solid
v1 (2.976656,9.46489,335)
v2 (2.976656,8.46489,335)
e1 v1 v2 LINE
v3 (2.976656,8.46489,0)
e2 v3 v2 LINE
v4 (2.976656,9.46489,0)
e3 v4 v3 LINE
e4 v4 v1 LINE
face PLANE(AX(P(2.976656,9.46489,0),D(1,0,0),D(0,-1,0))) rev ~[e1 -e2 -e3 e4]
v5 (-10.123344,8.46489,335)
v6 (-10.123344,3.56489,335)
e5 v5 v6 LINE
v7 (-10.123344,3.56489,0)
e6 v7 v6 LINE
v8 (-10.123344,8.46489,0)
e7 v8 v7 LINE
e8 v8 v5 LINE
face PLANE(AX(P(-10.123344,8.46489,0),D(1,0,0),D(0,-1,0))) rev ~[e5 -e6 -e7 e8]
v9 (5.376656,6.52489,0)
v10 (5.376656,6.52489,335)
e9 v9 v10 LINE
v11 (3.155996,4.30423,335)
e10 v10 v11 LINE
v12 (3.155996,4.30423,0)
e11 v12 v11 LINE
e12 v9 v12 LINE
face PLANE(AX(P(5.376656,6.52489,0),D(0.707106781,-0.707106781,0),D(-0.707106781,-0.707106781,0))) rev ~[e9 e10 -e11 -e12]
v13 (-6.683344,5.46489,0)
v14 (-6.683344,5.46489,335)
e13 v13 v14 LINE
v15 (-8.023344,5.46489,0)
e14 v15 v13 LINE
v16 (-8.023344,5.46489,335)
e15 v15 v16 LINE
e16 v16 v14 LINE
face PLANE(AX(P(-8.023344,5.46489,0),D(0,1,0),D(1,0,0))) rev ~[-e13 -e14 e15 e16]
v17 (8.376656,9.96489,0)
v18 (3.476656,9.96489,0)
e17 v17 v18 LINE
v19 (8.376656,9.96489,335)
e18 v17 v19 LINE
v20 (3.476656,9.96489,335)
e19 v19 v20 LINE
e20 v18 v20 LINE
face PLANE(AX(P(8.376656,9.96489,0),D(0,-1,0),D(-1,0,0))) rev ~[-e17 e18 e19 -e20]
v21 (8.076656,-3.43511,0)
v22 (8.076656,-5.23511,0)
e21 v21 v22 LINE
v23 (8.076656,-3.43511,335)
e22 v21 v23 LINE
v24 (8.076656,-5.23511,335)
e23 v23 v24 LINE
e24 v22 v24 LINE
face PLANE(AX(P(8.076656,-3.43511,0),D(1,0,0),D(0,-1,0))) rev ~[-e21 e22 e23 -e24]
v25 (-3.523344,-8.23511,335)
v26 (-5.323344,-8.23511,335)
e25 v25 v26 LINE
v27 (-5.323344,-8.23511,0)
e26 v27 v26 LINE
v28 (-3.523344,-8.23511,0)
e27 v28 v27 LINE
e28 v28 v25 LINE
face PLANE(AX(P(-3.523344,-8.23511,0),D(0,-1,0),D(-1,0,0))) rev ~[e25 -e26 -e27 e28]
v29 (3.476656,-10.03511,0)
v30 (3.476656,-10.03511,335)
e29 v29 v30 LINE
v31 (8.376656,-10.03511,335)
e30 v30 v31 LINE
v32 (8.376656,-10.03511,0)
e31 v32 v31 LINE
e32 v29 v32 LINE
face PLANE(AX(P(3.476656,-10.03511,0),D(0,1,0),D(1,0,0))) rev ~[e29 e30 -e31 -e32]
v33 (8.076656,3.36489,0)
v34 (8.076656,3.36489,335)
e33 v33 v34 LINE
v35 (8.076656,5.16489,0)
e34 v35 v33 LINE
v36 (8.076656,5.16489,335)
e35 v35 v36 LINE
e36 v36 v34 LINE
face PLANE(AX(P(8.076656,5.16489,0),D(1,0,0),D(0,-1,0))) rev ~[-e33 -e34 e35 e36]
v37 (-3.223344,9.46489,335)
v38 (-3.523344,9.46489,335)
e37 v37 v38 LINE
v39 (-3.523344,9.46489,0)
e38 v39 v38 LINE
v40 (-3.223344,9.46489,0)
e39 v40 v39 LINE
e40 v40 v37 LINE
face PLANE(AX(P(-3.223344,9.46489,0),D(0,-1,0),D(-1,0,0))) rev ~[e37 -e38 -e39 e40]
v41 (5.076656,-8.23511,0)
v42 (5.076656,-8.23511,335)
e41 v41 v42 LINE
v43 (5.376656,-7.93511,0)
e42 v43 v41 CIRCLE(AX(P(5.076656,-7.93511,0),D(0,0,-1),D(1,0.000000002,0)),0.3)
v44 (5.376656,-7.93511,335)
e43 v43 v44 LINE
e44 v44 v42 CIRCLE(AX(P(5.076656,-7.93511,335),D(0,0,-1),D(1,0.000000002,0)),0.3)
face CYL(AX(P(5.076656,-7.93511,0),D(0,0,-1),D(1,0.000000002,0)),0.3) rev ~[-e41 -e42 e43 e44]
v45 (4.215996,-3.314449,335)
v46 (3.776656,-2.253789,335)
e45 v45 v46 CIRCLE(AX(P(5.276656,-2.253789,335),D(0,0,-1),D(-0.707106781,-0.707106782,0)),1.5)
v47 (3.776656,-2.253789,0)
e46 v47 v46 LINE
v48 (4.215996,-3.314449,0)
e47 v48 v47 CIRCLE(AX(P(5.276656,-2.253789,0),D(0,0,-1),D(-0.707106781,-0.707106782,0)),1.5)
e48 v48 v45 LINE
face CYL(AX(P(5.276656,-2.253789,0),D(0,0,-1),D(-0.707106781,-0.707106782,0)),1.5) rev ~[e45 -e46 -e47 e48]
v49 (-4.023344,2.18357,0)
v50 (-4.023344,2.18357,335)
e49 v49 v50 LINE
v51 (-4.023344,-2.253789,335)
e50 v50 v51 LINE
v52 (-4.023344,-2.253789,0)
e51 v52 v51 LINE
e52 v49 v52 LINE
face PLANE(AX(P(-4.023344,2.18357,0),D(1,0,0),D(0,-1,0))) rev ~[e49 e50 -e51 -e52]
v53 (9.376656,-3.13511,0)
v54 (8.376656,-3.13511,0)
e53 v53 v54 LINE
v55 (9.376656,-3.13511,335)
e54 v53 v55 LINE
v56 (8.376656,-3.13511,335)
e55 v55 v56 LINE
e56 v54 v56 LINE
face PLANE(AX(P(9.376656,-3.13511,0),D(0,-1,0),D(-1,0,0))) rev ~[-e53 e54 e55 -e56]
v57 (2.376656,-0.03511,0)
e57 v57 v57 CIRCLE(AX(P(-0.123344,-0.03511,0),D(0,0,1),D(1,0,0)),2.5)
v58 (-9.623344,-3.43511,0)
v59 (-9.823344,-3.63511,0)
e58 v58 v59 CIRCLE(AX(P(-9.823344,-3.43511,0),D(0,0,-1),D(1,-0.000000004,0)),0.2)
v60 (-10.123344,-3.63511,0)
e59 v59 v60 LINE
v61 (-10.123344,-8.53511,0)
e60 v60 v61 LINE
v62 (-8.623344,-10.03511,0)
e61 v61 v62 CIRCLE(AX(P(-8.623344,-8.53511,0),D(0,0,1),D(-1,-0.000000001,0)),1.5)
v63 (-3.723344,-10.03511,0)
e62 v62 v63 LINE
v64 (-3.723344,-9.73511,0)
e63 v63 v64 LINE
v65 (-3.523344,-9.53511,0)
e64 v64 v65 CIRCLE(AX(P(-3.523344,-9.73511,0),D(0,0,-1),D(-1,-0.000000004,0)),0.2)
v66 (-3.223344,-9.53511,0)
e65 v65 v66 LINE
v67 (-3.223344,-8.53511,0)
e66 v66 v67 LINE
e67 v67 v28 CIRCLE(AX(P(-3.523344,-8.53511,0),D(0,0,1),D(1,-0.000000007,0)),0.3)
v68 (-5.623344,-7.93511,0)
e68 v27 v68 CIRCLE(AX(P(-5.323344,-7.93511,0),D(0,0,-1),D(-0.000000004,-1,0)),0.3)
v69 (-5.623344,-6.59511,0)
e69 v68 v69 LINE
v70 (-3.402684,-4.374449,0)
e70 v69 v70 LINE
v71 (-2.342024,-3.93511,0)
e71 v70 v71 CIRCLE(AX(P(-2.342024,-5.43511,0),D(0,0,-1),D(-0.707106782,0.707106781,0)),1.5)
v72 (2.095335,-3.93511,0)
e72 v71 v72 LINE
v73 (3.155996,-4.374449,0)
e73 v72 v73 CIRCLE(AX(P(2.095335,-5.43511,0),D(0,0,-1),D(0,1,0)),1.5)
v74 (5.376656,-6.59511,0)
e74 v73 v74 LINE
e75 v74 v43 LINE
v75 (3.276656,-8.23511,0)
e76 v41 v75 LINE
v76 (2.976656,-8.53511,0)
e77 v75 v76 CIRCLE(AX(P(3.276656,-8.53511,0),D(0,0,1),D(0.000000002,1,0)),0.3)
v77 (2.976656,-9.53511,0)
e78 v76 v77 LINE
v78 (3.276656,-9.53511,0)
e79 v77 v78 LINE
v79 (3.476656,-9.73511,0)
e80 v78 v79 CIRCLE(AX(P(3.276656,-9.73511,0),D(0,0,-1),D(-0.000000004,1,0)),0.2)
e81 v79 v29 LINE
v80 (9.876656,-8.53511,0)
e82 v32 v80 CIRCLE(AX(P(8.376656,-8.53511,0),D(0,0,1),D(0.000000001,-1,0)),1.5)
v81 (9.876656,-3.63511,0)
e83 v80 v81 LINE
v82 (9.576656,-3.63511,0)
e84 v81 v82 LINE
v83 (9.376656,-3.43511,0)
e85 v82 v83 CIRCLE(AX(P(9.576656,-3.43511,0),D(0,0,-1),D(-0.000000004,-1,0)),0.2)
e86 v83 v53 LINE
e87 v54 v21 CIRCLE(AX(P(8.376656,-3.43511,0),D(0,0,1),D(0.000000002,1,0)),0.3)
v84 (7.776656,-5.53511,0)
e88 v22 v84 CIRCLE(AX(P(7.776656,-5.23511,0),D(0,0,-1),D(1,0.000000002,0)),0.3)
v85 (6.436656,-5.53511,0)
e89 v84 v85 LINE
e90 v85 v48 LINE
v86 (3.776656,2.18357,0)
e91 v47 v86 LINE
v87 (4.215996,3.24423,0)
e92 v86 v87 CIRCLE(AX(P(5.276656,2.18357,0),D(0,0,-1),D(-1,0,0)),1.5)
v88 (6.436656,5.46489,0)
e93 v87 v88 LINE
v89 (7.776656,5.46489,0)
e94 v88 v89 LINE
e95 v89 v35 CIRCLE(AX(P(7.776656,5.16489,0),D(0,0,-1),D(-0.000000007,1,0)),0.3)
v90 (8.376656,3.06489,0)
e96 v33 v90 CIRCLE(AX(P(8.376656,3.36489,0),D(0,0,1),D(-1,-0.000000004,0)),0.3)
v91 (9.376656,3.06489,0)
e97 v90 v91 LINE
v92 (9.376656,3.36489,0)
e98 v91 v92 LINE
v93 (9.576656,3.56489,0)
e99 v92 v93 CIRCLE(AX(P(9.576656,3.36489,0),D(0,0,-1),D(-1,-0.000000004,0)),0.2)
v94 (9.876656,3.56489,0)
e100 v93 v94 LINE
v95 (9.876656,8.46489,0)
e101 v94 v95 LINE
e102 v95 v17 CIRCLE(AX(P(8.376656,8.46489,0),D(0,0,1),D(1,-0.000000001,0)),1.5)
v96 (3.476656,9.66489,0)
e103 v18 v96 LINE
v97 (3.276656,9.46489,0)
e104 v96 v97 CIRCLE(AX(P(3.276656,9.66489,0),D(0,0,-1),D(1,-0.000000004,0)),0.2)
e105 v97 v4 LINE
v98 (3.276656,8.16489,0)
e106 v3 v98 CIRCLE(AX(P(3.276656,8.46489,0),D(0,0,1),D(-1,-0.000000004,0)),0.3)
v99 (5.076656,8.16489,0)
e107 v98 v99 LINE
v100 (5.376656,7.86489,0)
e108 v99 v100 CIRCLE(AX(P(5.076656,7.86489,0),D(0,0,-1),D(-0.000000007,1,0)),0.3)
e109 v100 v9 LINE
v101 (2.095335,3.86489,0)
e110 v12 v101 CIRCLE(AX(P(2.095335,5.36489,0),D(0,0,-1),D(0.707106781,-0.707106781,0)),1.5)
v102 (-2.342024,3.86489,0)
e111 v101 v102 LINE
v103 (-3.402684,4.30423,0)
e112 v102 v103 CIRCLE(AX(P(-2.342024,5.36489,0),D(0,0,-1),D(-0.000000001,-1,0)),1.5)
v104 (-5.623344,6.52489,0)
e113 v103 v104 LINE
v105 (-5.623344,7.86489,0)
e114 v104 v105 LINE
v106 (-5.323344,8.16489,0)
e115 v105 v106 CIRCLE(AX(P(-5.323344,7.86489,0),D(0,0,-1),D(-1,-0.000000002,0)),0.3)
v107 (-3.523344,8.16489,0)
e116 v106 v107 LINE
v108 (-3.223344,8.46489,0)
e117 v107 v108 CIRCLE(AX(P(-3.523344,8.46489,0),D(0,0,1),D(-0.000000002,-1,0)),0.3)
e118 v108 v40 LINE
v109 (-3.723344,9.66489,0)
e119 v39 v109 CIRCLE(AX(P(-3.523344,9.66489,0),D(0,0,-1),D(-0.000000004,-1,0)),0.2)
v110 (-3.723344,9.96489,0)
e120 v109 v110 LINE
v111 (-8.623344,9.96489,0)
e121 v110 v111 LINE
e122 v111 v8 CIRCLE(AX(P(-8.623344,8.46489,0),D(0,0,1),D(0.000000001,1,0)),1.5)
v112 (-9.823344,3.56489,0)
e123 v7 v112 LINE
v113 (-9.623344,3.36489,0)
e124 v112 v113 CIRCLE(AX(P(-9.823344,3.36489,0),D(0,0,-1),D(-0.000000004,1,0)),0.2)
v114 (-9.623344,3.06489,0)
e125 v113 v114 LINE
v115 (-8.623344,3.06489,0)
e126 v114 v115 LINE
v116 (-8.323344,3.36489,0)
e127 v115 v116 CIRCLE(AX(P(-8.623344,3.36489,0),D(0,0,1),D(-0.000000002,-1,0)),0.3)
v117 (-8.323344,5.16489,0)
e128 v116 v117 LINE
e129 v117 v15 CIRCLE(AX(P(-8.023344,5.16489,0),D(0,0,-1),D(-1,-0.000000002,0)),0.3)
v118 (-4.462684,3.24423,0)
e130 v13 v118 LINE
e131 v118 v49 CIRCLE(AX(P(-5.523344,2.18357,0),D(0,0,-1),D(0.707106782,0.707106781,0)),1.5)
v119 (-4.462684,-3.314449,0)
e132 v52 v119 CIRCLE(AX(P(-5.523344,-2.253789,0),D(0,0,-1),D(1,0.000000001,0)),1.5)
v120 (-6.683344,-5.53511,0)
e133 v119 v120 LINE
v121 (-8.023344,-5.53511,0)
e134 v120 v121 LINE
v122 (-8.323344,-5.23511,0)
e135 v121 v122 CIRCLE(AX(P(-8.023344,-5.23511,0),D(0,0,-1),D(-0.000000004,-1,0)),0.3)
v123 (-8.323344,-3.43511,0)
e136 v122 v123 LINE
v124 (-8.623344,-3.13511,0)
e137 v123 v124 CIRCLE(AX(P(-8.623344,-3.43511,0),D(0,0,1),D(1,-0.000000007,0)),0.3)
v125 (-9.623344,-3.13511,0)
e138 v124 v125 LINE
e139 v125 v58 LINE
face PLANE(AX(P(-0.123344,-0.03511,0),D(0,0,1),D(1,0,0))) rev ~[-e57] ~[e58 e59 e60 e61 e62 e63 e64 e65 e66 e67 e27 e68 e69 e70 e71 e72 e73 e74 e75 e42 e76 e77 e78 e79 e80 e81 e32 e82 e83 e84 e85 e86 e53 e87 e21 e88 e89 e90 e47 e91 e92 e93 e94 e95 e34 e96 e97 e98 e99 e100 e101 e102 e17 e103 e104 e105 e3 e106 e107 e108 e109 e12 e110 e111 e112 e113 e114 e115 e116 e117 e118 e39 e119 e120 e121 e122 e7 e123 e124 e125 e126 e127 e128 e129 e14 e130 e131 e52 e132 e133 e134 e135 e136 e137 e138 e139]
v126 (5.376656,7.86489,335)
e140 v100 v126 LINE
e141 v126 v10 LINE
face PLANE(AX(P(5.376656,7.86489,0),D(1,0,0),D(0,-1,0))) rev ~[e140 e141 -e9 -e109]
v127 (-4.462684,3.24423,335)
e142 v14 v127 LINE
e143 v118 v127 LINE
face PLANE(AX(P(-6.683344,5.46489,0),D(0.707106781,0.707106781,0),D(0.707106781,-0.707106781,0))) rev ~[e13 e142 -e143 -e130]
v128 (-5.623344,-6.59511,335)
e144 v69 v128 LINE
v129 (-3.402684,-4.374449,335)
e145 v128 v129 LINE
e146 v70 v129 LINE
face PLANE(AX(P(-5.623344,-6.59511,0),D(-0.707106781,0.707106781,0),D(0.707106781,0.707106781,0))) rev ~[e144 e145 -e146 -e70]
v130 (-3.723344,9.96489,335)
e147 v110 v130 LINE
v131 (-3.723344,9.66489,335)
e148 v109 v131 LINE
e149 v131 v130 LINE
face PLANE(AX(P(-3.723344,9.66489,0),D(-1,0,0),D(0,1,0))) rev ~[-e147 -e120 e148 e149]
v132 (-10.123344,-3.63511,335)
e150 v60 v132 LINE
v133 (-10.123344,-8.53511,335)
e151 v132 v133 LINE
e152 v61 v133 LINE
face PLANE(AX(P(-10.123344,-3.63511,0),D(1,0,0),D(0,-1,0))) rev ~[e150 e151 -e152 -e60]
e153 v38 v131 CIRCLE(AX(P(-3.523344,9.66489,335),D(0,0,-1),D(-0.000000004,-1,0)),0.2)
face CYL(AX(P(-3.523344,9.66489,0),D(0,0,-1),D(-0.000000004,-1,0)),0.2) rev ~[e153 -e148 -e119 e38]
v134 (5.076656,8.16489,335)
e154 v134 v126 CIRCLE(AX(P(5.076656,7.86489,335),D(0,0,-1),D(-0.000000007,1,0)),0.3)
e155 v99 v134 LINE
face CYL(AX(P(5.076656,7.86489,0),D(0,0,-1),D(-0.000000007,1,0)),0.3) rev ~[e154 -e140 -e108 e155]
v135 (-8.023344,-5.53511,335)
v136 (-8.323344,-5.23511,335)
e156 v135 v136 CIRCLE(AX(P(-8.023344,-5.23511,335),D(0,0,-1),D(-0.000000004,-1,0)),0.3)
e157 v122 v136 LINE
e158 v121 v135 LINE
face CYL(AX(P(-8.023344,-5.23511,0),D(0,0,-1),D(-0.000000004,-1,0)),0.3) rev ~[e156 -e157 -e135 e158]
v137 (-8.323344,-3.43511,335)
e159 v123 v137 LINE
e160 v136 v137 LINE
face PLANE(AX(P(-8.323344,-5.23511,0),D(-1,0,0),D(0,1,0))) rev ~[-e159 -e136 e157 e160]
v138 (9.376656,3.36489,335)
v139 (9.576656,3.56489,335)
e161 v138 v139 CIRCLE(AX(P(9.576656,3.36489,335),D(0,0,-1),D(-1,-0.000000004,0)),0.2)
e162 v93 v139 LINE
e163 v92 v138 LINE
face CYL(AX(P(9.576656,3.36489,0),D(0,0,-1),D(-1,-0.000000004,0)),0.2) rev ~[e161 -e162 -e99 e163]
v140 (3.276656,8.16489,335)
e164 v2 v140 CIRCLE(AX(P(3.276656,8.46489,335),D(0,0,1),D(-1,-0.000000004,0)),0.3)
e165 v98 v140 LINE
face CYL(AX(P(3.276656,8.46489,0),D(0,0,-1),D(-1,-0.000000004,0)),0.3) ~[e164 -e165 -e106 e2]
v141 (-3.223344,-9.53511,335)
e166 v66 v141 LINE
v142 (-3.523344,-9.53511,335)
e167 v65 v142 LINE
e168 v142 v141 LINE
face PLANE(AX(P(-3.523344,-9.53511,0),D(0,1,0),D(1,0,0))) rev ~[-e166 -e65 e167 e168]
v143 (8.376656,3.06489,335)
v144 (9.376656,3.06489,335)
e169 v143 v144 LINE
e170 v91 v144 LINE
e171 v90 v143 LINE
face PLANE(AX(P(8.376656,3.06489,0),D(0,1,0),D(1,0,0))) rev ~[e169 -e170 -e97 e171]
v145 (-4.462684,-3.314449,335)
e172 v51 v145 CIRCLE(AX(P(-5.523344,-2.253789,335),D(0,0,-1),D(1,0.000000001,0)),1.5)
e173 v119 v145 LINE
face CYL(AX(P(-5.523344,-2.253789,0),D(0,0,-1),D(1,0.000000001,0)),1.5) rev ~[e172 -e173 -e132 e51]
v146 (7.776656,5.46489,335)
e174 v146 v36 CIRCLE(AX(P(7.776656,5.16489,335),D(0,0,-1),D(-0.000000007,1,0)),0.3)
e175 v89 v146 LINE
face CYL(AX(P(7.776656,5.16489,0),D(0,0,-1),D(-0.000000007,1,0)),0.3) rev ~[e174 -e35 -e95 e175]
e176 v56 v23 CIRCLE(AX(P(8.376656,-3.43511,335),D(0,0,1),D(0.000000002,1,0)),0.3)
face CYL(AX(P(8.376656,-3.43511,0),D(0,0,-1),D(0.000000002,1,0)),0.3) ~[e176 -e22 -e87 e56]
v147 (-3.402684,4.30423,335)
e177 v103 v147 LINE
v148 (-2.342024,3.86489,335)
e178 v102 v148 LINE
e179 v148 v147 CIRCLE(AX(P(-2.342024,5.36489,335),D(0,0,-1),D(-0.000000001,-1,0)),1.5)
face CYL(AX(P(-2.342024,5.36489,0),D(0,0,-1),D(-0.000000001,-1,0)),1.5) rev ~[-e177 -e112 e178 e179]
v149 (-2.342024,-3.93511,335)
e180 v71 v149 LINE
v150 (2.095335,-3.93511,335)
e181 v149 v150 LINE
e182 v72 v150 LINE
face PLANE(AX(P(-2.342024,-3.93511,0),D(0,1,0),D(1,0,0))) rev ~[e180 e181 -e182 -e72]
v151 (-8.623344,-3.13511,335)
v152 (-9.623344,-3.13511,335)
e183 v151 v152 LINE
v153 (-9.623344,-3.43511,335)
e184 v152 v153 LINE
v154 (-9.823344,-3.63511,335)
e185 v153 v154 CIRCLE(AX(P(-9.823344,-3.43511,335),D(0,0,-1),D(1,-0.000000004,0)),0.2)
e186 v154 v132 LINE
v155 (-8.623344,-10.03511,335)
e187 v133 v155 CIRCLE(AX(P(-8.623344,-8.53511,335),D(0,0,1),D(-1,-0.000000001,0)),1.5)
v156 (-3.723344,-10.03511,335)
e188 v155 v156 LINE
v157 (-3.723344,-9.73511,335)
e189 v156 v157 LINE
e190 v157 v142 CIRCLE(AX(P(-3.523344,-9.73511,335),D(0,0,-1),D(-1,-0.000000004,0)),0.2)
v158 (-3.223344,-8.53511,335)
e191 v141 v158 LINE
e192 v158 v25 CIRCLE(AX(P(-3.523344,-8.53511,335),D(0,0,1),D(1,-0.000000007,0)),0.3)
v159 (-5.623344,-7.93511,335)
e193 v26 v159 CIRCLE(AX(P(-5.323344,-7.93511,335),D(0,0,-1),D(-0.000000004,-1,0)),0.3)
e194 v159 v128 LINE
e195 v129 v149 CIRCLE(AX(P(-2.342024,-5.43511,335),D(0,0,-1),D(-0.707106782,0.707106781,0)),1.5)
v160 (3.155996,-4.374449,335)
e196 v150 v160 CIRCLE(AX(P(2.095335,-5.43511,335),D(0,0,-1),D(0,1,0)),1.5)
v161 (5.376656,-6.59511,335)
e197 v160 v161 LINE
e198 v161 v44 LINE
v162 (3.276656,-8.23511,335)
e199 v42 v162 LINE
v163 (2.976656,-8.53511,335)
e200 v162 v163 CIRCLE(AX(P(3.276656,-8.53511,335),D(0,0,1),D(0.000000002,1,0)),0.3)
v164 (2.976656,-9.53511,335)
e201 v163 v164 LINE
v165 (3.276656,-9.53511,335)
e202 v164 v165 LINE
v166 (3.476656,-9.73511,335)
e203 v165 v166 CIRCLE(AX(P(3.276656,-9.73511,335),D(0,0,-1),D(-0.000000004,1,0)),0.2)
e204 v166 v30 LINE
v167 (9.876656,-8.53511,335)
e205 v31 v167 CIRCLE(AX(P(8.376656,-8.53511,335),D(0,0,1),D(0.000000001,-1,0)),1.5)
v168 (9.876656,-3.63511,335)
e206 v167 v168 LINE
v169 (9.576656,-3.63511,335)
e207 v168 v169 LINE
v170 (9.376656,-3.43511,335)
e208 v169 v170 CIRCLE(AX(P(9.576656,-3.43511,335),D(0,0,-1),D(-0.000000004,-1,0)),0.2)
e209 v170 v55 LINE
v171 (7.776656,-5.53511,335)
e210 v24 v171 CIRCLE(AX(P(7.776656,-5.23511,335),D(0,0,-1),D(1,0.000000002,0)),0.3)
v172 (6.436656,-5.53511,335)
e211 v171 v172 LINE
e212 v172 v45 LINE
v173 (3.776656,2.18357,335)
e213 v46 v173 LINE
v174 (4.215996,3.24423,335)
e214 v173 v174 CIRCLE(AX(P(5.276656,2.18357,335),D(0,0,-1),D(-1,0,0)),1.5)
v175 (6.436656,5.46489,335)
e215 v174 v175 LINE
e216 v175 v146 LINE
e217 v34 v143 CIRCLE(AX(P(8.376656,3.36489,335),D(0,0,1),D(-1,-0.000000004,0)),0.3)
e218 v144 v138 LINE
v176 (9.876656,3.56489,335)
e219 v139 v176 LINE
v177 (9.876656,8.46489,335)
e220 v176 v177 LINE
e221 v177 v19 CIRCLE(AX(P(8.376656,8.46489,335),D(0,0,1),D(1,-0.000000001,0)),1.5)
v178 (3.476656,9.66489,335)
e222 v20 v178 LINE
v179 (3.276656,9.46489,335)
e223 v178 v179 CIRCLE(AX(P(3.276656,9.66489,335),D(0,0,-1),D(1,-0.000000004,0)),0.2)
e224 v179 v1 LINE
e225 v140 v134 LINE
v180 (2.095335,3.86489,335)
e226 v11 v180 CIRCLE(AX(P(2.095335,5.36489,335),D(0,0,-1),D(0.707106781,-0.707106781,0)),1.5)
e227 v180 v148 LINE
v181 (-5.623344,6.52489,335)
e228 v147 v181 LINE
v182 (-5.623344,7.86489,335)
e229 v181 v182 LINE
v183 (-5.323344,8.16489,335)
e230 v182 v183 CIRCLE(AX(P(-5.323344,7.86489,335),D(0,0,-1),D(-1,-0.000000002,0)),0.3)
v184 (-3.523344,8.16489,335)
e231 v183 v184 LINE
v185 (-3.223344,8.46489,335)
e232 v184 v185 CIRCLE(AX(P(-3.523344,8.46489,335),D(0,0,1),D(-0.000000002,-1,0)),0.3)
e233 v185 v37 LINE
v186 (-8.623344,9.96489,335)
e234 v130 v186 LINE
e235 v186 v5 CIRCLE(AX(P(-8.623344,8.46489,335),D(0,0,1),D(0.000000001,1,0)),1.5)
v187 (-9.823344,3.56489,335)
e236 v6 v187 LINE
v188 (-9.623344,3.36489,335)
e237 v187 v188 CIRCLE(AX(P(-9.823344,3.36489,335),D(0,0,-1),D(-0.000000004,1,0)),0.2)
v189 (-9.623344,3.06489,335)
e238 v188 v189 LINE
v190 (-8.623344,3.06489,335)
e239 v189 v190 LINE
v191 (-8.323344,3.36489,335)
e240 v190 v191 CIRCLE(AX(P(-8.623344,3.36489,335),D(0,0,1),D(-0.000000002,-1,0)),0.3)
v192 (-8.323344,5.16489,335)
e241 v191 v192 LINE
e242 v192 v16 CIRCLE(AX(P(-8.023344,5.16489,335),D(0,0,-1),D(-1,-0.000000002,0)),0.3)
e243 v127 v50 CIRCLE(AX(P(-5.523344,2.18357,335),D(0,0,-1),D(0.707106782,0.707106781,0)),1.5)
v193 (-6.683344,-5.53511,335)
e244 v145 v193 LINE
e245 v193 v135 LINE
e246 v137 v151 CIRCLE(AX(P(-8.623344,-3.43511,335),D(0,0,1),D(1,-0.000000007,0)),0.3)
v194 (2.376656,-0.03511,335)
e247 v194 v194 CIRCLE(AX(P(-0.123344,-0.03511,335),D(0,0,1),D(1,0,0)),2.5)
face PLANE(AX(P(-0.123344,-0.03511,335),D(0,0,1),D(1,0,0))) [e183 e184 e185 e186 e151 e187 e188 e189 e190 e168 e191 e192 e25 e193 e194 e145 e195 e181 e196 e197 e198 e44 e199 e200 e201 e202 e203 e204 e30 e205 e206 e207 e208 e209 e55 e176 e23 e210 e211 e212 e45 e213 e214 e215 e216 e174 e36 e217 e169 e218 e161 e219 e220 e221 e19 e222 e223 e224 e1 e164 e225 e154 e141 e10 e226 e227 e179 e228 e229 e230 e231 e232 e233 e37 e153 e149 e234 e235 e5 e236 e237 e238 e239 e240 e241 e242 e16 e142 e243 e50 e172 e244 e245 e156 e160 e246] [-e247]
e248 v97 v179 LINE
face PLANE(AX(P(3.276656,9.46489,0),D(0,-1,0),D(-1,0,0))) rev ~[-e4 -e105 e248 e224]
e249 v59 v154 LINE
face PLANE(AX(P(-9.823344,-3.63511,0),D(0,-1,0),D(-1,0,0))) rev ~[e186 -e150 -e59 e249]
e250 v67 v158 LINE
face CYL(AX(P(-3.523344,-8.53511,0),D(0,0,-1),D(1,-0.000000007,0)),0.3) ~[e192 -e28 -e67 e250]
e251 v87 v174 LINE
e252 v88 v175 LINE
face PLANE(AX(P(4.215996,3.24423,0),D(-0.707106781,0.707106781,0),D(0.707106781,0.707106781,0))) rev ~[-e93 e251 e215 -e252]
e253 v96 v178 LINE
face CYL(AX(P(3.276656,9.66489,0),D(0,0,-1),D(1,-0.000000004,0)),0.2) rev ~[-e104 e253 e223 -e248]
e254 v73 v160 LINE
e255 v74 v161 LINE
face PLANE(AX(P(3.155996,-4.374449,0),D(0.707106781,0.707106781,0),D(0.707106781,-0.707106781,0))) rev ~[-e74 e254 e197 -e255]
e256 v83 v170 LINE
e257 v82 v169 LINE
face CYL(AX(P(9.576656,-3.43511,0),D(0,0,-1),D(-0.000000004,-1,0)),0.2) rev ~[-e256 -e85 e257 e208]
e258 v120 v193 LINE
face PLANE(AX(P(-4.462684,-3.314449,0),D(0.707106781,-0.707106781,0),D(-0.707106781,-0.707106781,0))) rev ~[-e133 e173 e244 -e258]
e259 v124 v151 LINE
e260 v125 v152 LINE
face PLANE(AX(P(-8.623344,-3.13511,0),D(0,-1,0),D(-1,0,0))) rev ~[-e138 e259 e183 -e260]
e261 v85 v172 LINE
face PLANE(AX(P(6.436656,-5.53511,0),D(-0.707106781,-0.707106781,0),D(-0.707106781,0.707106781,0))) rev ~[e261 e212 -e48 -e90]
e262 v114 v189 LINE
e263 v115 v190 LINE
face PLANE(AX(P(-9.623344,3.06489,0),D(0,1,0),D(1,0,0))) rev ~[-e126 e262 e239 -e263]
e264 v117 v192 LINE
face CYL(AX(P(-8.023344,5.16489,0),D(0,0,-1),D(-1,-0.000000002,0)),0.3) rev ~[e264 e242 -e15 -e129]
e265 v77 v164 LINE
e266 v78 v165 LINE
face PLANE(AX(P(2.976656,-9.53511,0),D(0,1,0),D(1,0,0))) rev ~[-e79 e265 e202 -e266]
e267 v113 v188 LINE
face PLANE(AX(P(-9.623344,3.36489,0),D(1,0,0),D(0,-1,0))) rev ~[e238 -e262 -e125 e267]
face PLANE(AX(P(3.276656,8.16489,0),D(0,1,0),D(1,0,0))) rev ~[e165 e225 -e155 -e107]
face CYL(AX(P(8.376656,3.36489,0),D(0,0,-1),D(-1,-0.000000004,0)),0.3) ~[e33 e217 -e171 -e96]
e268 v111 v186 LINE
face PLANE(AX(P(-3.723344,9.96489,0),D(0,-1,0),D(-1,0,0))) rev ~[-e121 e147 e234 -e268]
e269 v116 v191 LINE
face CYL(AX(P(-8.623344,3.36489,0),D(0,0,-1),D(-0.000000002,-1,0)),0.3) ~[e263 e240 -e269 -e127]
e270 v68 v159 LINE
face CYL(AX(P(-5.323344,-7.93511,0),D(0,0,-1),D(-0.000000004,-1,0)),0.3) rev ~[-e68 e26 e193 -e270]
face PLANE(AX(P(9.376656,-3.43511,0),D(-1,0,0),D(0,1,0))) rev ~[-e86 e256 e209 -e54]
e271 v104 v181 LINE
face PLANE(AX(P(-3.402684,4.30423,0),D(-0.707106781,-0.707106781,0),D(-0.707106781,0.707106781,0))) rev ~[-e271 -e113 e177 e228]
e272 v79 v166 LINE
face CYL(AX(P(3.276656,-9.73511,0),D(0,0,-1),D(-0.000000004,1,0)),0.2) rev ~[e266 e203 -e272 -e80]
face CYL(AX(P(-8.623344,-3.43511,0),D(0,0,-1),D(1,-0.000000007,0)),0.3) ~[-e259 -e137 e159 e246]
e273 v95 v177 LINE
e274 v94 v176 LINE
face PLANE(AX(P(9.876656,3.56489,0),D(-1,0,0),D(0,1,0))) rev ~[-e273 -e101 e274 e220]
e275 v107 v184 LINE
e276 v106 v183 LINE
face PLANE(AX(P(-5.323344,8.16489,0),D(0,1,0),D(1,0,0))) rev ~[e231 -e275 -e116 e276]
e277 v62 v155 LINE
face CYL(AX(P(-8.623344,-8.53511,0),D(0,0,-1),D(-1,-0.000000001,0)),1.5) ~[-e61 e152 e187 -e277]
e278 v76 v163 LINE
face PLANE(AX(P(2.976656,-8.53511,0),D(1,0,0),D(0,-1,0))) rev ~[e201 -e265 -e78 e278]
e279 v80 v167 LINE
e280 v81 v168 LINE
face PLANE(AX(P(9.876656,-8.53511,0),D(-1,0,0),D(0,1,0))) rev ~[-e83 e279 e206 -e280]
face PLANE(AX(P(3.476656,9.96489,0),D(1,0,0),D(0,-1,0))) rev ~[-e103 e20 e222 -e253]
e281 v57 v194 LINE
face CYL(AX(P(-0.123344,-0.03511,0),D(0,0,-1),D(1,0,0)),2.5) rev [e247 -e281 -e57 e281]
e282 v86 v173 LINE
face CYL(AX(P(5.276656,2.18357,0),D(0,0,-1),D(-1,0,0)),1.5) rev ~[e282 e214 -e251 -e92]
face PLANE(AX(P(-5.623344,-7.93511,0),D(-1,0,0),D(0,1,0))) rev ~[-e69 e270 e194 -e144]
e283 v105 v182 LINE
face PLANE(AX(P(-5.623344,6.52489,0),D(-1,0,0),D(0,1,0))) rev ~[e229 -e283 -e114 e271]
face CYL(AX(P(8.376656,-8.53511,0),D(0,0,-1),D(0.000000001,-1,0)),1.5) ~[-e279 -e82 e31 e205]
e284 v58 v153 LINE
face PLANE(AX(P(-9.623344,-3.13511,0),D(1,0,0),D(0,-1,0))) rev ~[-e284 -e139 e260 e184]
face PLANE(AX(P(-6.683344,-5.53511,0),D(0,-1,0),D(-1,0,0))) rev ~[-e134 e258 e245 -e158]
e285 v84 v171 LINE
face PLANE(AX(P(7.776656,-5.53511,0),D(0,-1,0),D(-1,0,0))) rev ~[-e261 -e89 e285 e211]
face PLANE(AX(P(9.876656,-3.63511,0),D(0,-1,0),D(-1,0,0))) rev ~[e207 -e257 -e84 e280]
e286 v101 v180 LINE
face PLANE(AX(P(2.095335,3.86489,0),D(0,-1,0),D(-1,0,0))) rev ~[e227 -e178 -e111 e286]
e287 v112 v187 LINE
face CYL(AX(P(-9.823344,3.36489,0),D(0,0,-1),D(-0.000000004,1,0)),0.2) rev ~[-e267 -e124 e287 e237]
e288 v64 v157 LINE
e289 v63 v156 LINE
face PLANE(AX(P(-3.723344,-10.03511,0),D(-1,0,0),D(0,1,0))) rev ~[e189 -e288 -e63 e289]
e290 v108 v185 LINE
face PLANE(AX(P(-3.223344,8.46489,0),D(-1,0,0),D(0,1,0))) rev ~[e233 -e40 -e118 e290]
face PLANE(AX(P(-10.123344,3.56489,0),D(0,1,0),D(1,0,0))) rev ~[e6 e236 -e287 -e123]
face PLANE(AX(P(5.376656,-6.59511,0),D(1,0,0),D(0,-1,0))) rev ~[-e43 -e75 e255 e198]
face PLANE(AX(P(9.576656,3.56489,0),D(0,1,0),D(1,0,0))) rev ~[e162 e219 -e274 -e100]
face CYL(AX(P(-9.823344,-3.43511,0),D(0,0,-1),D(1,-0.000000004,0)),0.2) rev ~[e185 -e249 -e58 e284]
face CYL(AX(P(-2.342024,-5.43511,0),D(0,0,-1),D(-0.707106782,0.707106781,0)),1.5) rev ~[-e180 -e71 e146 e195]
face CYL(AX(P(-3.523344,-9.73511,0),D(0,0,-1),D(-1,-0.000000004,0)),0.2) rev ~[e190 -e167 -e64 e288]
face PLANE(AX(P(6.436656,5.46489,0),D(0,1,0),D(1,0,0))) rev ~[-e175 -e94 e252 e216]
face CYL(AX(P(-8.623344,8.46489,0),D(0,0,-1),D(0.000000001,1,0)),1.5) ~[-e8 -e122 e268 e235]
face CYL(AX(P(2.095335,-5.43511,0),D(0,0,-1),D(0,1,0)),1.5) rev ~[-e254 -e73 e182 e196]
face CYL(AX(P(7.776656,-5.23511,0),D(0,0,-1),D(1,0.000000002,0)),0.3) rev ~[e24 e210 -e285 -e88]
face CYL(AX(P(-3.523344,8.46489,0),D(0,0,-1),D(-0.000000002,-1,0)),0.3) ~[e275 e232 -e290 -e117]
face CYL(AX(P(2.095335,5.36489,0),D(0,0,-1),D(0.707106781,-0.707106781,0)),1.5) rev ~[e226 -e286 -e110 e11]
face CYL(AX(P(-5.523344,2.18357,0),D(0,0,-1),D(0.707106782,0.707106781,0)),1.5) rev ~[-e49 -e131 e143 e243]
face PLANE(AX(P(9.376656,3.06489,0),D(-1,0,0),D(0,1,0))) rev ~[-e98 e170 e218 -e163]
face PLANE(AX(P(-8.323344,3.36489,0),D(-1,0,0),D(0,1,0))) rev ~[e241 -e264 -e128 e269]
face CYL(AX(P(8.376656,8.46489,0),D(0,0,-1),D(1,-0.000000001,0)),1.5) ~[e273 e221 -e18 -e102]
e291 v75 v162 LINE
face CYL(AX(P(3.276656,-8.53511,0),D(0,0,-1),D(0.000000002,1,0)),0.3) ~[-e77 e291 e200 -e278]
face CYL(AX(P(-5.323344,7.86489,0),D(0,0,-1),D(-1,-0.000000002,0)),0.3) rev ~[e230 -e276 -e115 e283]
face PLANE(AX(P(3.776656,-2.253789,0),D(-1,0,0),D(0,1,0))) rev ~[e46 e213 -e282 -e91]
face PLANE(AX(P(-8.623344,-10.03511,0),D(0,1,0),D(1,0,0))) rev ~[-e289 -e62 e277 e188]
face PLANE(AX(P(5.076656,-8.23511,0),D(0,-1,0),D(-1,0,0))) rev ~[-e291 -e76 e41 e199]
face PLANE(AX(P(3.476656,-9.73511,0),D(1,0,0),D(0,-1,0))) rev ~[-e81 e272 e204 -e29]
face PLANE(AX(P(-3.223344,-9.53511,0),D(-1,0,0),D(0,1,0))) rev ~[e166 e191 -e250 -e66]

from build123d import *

# Parameters (mm, degrees)
SKETCH_1_R      = 2.5
EXTRUDE_1_DEPTH = 335


with BuildPart() as part:
    # 草图1 → 凸台-拉伸1 (new body)
    with BuildSketch(Plane.XY):
        with BuildLine():
            Line((4.215995631, 3.244230202), (6.436655803, 5.464890373))
            Line((6.436655803, 5.464890373), (7.776655803, 5.464890373))
            ThreePointArc((7.776655803, 5.464890373), (7.988787838, 5.377022408), (8.076655803, 5.164890373))
            Line((8.076655803, 5.164890373), (8.076655803, 3.364890373))
            ThreePointArc((8.076655803, 3.364890373), (8.164523769, 3.152758339), (8.376655803, 3.064890373))
            Line((8.376655803, 3.064890373), (9.376655803, 3.064890373))
            Line((9.376655803, 3.064890373), (9.376655803, 3.364890373))
            ThreePointArc((9.376655803, 3.364890373), (9.435234447, 3.50631173), (9.576655803, 3.564890373))
            Line((9.576655803, 3.564890373), (9.876655803, 3.564890373))
            Line((9.876655803, 3.564890373), (9.876655803, 8.464890373))
            ThreePointArc((9.876655803, 8.464890373), (9.437315975, 9.525550545), (8.376655803, 9.964890373))
            Line((8.376655803, 9.964890373), (3.476655803, 9.964890373))
            Line((3.476655803, 9.964890373), (3.476655803, 9.664890373))
            ThreePointArc((3.476655803, 9.664890373), (3.418077159, 9.523469017), (3.276655803, 9.464890373))
            Line((3.276655803, 9.464890373), (2.976655803, 9.464890373))
            Line((2.976655803, 9.464890373), (2.976655803, 8.464890373))
            ThreePointArc((2.976655803, 8.464890373), (3.064523769, 8.252758339), (3.276655803, 8.164890373))
            Line((3.276655803, 8.164890373), (5.076655803, 8.164890373))
            ThreePointArc((5.076655803, 8.164890373), (5.288787838, 8.077022408), (5.376655803, 7.864890373))
            Line((5.376655803, 7.864890373), (5.376655803, 6.524890373))
            Line((5.376655803, 6.524890373), (3.155995631, 4.304230202))
            ThreePointArc((3.155995631, 4.304230202), (2.669360608, 3.979071075), (2.09533546, 3.864890373))
            Line((2.09533546, 3.864890373), (-2.342023853, 3.864890373))
            ThreePointArc((-2.342023853, 3.864890373), (-2.916049002, 3.979071075), (-3.402684025, 4.304230202))
            Line((-3.402684025, 4.304230202), (-5.623344197, 6.524890373))
            Line((-5.623344197, 6.524890373), (-5.623344197, 7.864890373))
            ThreePointArc((-5.623344197, 7.864890373), (-5.535476231, 8.077022408), (-5.323344197, 8.164890373))
            Line((-5.323344197, 8.164890373), (-3.523344197, 8.164890373))
            ThreePointArc((-3.523344197, 8.164890373), (-3.311212162, 8.252758339), (-3.223344197, 8.464890373))
            Line((-3.223344197, 8.464890373), (-3.223344197, 9.464890373))
            Line((-3.223344197, 9.464890373), (-3.523344197, 9.464890373))
            ThreePointArc((-3.523344197, 9.464890373), (-3.664765553, 9.523469017), (-3.723344197, 9.664890373))
            Line((-3.723344197, 9.664890373), (-3.723344197, 9.964890373))
            Line((-3.723344197, 9.964890373), (-8.623344197, 9.964890373))
            ThreePointArc((-8.623344197, 9.964890373), (-9.684004369, 9.525550545), (-10.123344197, 8.464890373))
            Line((-10.123344197, 8.464890373), (-10.123344197, 3.564890373))
            Line((-10.123344197, 3.564890373), (-9.823344197, 3.564890373))
            ThreePointArc((-9.823344197, 3.564890373), (-9.681922841, 3.50631173), (-9.623344197, 3.364890373))
            Line((-9.623344197, 3.364890373), (-9.623344197, 3.064890373))
            Line((-9.623344197, 3.064890373), (-8.623344197, 3.064890373))
            ThreePointArc((-8.623344197, 3.064890373), (-8.411212162, 3.152758339), (-8.323344197, 3.364890373))
            Line((-8.323344197, 3.364890373), (-8.323344197, 5.164890373))
            ThreePointArc((-8.323344197, 5.164890373), (-8.235476231, 5.377022408), (-8.023344197, 5.464890373))
            Line((-8.023344197, 5.464890373), (-6.683344197, 5.464890373))
            Line((-6.683344197, 5.464890373), (-4.462684025, 3.244230202))
            ThreePointArc((-4.462684025, 3.244230202), (-4.137524898, 2.757595178), (-4.023344197, 2.18357003))
            Line((-4.023344197, 2.18357003), (-4.023344197, -2.253789283))
            ThreePointArc((-4.023344197, -2.253789283), (-4.137524898, -2.827814432), (-4.462684025, -3.314449455))
            Line((-4.462684025, -3.314449455), (-6.683344197, -5.535109627))
            Line((-6.683344197, -5.535109627), (-8.023344197, -5.535109627))
            ThreePointArc((-8.023344197, -5.535109627), (-8.235476231, -5.447241661), (-8.323344197, -5.235109627))
            Line((-8.323344197, -5.235109627), (-8.323344197, -3.435109627))
            ThreePointArc((-8.323344197, -3.435109627), (-8.411212162, -3.222977592), (-8.623344197, -3.135109627))
            Line((-8.623344197, -3.135109627), (-9.623344197, -3.135109627))
            Line((-9.623344197, -3.135109627), (-9.623344197, -3.435109627))
            ThreePointArc((-9.623344197, -3.435109627), (-9.681922841, -3.576530983), (-9.823344197, -3.635109627))
            Line((-9.823344197, -3.635109627), (-10.123344197, -3.635109627))
            Line((-10.123344197, -3.635109627), (-10.123344197, -8.535109627))
            ThreePointArc((-10.123344197, -8.535109627), (-9.684004369, -9.595769798), (-8.623344197, -10.035109627))
            Line((-8.623344197, -10.035109627), (-3.723344197, -10.035109627))
            Line((-3.723344197, -10.035109627), (-3.723344197, -9.735109627))
            ThreePointArc((-3.723344197, -9.735109627), (-3.664765553, -9.59368827), (-3.523344197, -9.535109627))
            Line((-3.523344197, -9.535109627), (-3.223344197, -9.535109627))
            Line((-3.223344197, -9.535109627), (-3.223344197, -8.535109627))
            ThreePointArc((-3.223344197, -8.535109627), (-3.311212162, -8.322977592), (-3.523344197, -8.235109627))
            Line((-3.523344197, -8.235109627), (-5.323344197, -8.235109627))
            ThreePointArc((-5.323344197, -8.235109627), (-5.535476231, -8.147241661), (-5.623344197, -7.935109627))
            Line((-5.623344197, -7.935109627), (-5.623344197, -6.595109627))
            Line((-5.623344197, -6.595109627), (-3.402684025, -4.374449455))
            ThreePointArc((-3.402684025, -4.374449455), (-2.916049002, -4.049290328), (-2.342023853, -3.935109627))
            Line((-2.342023853, -3.935109627), (2.09533546, -3.935109627))
            ThreePointArc((2.09533546, -3.935109627), (2.669360608, -4.049290328), (3.155995631, -4.374449455))
            Line((3.155995631, -4.374449455), (5.376655803, -6.595109627))
            Line((5.376655803, -6.595109627), (5.376655803, -7.935109627))
            ThreePointArc((5.376655803, -7.935109627), (5.288787838, -8.147241661), (5.076655803, -8.235109627))
            Line((5.076655803, -8.235109627), (3.276655803, -8.235109627))
            ThreePointArc((3.276655803, -8.235109627), (3.064523769, -8.322977592), (2.976655803, -8.535109627))
            Line((2.976655803, -8.535109627), (2.976655803, -9.535109627))
            Line((2.976655803, -9.535109627), (3.276655803, -9.535109627))
            ThreePointArc((3.276655803, -9.535109627), (3.418077159, -9.59368827), (3.476655803, -9.735109627))
            Line((3.476655803, -9.735109627), (3.476655803, -10.035109627))
            Line((3.476655803, -10.035109627), (8.376655803, -10.035109627))
            ThreePointArc((8.376655803, -10.035109627), (9.437315975, -9.595769798), (9.876655803, -8.535109627))
            Line((9.876655803, -8.535109627), (9.876655803, -3.635109627))
            Line((9.876655803, -3.635109627), (9.576655803, -3.635109627))
            ThreePointArc((9.576655803, -3.635109627), (9.435234447, -3.576530983), (9.376655803, -3.435109627))
            Line((9.376655803, -3.435109627), (9.376655803, -3.135109627))
            Line((9.376655803, -3.135109627), (8.376655803, -3.135109627))
            ThreePointArc((8.376655803, -3.135109627), (8.164523769, -3.222977592), (8.076655803, -3.435109627))
            Line((8.076655803, -3.435109627), (8.076655803, -5.235109627))
            ThreePointArc((8.076655803, -5.235109627), (7.988787838, -5.447241661), (7.776655803, -5.535109627))
            Line((7.776655803, -5.535109627), (6.436655803, -5.535109627))
            Line((6.436655803, -5.535109627), (4.215995631, -3.314449455))
            ThreePointArc((4.215995631, -3.314449455), (3.890836504, -2.827814432), (3.776655803, -2.253789283))
            Line((3.776655803, -2.253789283), (3.776655803, 2.18357003))
            ThreePointArc((3.776655803, 2.18357003), (3.890836504, 2.757595178), (4.215995631, 3.244230202))
        make_face()
        with Locations((-0.123344197, -0.035109627)):
            Circle(SKETCH_1_R, mode=Mode.SUBTRACT)
    extrude(amount=EXTRUDE_1_DEPTH)


solid = part.part
